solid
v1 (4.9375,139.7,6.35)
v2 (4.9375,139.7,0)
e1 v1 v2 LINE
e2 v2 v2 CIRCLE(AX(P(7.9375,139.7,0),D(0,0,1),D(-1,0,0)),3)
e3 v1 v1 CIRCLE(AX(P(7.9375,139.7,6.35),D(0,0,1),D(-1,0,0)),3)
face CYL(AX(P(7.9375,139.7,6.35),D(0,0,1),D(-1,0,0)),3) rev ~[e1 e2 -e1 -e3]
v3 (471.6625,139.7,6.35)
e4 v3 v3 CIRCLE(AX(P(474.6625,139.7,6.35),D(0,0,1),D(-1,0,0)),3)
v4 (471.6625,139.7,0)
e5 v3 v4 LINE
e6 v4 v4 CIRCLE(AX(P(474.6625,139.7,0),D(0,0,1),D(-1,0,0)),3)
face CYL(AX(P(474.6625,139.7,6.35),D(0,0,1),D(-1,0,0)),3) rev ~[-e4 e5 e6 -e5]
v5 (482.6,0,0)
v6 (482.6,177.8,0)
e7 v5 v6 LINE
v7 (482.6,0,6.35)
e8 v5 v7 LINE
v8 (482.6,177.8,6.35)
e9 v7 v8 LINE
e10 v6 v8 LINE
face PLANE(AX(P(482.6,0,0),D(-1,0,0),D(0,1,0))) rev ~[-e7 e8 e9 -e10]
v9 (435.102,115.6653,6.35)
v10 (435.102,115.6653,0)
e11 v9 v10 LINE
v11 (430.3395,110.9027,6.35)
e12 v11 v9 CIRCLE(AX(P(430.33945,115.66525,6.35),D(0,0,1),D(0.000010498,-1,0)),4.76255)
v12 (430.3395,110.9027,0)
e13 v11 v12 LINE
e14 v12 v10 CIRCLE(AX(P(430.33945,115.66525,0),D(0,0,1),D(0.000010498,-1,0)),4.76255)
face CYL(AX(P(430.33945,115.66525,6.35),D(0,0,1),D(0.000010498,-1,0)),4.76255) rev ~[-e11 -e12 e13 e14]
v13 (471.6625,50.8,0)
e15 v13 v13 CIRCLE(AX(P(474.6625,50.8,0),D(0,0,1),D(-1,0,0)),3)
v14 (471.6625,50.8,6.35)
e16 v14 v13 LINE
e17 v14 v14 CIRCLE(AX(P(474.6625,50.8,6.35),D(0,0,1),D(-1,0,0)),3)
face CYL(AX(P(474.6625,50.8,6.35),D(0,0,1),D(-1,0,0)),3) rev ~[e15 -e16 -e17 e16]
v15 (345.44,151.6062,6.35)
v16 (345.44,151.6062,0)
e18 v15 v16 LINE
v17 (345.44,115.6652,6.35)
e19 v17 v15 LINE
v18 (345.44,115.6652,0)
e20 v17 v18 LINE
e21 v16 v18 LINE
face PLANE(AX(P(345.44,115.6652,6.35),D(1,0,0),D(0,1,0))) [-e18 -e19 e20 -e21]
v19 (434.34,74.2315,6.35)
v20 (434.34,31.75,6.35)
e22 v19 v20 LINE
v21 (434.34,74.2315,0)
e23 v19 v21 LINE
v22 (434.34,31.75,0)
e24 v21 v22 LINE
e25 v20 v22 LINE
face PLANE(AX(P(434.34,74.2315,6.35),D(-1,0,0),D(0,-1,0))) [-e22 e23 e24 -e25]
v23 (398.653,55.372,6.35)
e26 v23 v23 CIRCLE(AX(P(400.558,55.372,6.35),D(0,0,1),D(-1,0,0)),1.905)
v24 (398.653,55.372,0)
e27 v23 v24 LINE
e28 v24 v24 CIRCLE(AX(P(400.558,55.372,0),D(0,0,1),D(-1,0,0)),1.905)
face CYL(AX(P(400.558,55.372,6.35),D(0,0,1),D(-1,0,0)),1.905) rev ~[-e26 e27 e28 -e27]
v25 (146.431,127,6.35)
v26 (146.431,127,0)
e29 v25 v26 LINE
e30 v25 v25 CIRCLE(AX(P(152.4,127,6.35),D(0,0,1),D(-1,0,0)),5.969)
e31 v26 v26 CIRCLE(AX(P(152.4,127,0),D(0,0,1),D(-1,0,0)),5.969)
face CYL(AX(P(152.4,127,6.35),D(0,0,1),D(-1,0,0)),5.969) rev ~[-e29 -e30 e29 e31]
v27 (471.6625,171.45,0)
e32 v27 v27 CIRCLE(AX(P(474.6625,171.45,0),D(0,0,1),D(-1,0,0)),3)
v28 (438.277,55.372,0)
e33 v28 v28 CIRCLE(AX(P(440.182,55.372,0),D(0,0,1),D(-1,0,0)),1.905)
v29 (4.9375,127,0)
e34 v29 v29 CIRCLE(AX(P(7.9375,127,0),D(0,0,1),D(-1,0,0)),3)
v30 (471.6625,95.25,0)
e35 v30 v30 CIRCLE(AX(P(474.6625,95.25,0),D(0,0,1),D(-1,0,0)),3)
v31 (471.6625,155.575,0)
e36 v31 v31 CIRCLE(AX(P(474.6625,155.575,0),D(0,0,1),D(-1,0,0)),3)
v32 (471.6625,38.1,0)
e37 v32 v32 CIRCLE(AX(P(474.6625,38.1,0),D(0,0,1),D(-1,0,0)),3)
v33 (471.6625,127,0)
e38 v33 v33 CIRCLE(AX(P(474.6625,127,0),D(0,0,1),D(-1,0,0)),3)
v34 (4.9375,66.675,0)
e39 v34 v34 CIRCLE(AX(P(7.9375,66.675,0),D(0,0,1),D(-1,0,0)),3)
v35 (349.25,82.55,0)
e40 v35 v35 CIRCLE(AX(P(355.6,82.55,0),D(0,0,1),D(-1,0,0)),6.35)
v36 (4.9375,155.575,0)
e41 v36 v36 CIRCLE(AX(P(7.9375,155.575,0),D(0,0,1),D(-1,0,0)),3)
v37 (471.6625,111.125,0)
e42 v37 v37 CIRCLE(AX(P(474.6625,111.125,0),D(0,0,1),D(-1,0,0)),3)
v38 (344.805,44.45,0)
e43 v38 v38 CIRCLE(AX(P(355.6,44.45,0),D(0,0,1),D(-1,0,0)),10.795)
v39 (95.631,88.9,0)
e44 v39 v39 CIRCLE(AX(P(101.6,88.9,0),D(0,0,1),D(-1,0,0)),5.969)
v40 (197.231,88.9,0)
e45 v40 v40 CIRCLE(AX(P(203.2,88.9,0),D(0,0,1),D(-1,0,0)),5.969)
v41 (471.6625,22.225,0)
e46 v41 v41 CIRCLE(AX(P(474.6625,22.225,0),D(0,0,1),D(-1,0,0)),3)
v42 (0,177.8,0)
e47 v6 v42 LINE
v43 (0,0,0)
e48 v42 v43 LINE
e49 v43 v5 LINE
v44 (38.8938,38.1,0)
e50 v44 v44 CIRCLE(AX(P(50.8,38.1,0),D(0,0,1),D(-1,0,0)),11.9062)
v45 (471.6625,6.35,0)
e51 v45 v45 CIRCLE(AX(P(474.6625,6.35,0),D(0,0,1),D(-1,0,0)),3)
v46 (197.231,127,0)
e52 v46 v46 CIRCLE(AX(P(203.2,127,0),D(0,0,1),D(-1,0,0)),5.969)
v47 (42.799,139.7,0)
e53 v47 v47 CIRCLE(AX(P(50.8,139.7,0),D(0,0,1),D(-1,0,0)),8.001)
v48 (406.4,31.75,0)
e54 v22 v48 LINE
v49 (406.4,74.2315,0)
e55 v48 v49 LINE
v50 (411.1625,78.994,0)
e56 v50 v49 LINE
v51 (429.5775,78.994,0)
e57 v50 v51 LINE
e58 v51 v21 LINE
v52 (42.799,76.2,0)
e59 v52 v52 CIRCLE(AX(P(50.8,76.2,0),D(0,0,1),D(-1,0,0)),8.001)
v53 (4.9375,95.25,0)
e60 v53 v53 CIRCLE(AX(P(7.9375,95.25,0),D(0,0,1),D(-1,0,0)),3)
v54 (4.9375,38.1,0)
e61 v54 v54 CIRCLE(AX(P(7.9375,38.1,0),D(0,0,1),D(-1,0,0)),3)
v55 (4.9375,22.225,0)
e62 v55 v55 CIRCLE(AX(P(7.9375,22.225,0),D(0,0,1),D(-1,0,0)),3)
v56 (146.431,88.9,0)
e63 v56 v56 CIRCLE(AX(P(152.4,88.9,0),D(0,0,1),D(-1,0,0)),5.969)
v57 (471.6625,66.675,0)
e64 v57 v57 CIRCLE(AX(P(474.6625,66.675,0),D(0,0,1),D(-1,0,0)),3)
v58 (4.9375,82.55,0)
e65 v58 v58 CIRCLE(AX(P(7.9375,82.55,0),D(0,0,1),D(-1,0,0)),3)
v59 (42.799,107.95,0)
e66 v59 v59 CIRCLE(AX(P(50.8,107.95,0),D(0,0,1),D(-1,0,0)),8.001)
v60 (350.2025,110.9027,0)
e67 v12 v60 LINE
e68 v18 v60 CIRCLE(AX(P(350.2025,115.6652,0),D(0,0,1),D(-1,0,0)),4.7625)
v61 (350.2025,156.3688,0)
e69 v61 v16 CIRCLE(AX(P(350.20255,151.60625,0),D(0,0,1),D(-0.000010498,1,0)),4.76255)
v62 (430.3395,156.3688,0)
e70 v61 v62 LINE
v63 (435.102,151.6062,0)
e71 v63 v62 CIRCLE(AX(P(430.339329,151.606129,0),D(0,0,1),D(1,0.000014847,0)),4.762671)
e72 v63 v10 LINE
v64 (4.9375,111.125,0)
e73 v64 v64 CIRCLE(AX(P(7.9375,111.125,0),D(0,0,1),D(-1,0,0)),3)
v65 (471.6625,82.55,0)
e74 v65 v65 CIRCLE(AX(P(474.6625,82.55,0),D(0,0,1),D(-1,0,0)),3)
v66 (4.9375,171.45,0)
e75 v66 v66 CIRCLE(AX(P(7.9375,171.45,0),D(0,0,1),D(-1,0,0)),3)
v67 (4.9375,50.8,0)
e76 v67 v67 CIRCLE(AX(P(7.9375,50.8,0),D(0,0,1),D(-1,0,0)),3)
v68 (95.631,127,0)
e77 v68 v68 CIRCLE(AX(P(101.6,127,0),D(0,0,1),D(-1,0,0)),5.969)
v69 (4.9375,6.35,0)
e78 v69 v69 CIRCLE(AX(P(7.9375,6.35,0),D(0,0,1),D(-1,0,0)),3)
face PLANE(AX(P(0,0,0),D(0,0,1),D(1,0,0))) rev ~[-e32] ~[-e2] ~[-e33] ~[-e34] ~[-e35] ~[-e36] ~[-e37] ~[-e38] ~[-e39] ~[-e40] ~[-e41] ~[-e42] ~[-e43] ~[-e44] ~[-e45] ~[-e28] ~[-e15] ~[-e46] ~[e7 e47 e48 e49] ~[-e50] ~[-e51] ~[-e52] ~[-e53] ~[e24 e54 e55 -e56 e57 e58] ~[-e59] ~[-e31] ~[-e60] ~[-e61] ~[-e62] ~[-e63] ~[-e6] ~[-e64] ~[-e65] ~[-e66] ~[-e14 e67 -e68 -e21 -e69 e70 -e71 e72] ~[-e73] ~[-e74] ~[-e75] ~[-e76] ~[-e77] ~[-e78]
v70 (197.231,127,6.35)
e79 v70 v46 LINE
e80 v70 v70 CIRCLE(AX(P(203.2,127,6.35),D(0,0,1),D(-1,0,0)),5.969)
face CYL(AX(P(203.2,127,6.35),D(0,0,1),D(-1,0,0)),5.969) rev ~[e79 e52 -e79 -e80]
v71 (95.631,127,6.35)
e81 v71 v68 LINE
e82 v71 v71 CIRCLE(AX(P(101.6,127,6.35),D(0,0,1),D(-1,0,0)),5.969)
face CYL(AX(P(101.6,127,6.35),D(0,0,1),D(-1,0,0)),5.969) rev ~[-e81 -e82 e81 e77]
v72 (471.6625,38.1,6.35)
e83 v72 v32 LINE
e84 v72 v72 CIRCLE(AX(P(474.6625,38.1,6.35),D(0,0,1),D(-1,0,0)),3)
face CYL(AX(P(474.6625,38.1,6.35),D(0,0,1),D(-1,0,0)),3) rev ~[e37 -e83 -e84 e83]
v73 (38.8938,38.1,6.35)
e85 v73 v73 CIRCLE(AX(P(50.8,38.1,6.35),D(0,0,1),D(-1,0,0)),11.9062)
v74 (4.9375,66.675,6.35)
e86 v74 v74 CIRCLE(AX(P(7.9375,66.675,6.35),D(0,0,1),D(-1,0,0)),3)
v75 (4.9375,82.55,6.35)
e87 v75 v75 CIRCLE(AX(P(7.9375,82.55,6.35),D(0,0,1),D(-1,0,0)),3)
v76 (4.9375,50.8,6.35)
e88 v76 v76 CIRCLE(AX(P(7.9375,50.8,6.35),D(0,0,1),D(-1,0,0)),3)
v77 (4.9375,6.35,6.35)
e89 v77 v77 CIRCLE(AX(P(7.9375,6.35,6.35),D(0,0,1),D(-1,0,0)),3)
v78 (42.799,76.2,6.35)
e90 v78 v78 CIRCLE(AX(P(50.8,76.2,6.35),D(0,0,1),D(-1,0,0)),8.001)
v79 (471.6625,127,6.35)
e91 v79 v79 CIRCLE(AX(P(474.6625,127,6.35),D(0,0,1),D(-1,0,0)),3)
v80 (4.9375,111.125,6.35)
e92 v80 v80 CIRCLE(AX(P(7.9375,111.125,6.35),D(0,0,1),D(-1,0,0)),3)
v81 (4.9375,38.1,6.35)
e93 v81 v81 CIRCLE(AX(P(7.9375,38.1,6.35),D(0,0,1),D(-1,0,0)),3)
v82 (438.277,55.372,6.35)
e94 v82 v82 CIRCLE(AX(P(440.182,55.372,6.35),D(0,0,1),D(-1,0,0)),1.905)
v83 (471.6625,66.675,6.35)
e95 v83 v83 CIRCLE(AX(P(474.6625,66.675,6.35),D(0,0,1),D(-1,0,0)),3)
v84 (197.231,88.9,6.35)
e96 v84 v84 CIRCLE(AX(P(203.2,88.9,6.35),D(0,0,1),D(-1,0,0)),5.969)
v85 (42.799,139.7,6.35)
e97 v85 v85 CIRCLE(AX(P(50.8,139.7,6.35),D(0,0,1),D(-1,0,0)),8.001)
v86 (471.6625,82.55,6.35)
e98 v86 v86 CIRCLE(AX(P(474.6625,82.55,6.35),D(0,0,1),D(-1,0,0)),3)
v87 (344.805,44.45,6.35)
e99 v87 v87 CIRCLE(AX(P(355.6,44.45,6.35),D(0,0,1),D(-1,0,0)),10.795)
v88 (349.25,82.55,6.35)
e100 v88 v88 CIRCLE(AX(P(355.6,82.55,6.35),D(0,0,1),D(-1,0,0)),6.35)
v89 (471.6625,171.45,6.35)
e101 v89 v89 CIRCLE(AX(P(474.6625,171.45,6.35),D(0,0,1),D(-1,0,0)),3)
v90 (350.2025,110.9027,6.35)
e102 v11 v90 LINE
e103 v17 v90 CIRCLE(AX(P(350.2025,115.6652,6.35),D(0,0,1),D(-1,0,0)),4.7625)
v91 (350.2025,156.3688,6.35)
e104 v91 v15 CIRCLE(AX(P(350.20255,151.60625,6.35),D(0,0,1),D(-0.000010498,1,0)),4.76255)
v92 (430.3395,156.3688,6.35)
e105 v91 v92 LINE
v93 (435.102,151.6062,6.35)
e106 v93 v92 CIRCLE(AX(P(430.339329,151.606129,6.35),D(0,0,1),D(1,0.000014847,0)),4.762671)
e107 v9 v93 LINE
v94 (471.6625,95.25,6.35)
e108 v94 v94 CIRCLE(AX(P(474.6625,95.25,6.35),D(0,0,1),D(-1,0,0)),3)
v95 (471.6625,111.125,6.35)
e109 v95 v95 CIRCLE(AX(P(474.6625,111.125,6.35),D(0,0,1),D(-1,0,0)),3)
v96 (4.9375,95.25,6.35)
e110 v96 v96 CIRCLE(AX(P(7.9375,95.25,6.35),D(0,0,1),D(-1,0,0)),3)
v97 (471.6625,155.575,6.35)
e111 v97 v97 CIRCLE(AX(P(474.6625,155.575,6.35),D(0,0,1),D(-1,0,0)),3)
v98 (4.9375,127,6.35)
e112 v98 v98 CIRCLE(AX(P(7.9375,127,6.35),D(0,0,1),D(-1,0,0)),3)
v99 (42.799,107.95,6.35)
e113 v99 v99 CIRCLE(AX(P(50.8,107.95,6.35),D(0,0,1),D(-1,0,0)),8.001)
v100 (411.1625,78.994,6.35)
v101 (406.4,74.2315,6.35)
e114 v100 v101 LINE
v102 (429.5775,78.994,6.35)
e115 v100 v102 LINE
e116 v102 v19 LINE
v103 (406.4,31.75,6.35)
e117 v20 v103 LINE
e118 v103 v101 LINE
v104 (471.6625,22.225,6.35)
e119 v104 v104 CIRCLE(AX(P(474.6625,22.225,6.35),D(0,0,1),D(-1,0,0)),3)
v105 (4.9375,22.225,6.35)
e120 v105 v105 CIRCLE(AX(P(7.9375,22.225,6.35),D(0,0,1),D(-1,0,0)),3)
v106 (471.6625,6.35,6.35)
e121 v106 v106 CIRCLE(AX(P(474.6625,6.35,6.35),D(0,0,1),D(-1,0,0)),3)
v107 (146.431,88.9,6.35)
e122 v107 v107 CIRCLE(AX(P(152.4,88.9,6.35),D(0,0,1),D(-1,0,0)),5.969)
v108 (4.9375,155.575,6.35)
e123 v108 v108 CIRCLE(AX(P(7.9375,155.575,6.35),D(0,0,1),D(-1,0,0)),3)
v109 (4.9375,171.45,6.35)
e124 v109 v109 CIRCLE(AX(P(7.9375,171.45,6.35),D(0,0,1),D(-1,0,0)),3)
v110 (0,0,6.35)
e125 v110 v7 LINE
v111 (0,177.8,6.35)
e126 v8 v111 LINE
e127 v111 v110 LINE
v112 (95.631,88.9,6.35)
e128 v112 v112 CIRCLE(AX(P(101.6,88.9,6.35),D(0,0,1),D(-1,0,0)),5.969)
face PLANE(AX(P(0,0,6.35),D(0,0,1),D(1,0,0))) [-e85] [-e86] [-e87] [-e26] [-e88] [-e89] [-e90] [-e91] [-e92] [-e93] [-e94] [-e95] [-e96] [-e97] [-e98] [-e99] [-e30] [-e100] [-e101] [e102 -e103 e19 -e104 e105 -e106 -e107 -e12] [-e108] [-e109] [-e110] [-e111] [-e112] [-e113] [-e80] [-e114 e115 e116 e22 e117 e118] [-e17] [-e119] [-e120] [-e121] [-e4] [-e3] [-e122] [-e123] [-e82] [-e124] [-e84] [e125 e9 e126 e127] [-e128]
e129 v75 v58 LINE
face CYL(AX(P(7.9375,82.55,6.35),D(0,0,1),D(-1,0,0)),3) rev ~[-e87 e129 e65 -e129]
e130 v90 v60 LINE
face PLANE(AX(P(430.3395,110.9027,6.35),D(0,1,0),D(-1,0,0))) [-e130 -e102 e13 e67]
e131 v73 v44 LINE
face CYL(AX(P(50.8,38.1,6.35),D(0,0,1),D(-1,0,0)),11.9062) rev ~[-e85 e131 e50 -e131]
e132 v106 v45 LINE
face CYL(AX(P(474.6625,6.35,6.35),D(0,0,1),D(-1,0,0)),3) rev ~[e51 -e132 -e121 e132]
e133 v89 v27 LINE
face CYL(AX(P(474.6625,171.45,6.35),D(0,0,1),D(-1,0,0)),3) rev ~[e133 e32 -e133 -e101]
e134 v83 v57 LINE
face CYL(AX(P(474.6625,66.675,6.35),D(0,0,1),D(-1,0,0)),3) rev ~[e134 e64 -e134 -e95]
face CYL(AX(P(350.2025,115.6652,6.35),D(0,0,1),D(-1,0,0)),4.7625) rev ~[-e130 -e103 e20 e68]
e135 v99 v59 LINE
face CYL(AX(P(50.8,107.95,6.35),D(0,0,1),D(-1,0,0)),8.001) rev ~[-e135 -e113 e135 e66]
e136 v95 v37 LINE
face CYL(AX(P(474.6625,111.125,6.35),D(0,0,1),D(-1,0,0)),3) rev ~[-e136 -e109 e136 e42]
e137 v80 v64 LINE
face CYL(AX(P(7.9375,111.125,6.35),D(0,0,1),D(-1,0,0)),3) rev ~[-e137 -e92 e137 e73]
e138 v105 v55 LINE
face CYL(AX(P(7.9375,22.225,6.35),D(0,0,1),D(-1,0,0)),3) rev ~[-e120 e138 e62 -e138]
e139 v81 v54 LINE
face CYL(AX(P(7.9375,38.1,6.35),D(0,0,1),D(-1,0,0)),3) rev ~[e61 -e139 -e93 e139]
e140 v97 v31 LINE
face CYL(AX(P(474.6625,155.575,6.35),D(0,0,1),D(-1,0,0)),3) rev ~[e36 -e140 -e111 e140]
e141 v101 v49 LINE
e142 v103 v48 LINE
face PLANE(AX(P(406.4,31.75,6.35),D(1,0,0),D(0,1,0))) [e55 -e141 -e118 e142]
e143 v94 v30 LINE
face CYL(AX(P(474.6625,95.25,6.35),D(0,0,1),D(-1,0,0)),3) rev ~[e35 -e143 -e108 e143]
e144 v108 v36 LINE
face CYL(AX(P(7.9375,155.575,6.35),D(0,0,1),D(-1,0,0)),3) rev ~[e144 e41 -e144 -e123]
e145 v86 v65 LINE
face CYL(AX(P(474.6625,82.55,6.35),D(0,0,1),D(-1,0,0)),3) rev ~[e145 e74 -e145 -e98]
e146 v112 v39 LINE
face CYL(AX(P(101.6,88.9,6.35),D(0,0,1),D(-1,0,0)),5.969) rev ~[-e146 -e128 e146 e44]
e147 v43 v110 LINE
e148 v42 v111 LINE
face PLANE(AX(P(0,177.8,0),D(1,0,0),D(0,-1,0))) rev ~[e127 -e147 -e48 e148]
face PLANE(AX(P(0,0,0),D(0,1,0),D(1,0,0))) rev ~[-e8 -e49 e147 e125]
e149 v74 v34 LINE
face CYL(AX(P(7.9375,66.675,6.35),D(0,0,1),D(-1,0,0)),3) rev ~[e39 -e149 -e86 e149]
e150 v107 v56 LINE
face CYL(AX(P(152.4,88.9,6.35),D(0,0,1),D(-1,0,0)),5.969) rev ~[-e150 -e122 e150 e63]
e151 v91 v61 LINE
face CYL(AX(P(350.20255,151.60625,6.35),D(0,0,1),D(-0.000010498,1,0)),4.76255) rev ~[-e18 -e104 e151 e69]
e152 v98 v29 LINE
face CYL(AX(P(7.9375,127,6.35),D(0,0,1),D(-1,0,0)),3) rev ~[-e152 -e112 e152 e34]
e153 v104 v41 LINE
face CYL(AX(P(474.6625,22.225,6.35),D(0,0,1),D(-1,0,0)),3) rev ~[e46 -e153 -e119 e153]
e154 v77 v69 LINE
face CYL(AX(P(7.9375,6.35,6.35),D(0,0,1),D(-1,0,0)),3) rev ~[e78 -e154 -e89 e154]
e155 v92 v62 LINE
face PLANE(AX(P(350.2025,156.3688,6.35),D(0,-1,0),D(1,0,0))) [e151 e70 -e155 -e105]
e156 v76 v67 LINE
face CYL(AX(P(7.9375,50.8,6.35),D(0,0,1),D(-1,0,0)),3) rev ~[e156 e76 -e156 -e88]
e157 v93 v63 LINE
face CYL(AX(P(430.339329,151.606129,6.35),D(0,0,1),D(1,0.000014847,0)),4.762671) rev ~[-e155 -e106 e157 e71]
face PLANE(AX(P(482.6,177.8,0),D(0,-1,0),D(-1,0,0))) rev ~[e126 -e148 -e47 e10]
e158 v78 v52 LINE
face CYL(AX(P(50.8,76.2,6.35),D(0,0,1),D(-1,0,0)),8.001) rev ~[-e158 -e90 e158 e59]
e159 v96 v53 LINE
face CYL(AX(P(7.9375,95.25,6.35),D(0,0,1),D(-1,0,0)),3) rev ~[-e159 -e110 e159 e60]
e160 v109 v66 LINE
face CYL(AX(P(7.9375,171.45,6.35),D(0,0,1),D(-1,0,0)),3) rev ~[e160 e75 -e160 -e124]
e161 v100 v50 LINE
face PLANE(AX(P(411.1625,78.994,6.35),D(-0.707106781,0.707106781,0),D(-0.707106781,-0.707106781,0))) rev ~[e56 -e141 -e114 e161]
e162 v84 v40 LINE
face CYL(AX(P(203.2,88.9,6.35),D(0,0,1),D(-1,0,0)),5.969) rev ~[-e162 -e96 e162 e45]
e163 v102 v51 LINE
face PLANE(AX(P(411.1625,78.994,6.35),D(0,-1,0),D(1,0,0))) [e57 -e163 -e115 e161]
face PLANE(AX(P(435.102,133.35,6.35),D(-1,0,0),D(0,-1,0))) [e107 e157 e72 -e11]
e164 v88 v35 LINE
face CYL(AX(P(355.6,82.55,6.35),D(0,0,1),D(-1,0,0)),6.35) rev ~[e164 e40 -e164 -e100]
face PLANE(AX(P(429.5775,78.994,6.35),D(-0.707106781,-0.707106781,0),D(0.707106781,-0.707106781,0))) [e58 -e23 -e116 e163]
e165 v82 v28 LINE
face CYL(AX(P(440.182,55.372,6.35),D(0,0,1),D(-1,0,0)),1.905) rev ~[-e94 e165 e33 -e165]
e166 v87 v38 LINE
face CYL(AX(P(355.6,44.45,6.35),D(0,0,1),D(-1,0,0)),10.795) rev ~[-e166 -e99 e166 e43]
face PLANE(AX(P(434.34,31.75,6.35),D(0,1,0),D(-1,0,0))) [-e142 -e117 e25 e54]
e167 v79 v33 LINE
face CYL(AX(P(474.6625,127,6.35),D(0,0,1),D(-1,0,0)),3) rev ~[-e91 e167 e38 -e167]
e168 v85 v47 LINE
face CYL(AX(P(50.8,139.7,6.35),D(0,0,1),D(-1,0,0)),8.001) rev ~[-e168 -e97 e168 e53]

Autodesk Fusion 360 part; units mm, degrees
sketch "Sketch1" plane through (0, 0, 0) normal (0, 0, 1) x (1, 0, 0)
  line L0 (0, 0) -> (482.6, 0)
  line L1 (482.6, 0) -> (482.6, 177.8)
  line L2 (482.6, 177.8) -> (0, 177.8)
  line L3 (0, 177.8) -> (0, 0)
  dimension "d1" = 482.6
  dimension "d2" = 177.8
extrude "Extrude1" add sketch "Sketch1" along normal blind 6.35
sketch "Sketch2" plane through (0, 0, 6.35) normal (0, 0, 1) x (-1, 0, 0)
  line L0 (0, -177.8) -> (0, 0)
  line L1 (0, 0) -> (-482.6, 0)
  line L2 (-482.6, 0) -> (-482.6, -177.8)
  line L3 (-482.6, -177.8) -> (0, -177.8)
  circle A0 centre (-7.9375, -6.35) radius 3
  circle A1 centre (-7.9375, -22.225) radius 3
  circle A2 centre (-7.9375, -38.1) radius 3
  line L4 (-482.6, -88.9) -> (0, -88.9)
  line L5 (-241.3, -177.8) -> (-241.3, 0)
  line L6 (0, -44.45) -> (-482.6, -44.45)
  circle A3 centre (-7.9375, -50.8) radius 3
  circle A4 centre (-7.9375, -66.675) radius 3
  circle A5 centre (-7.9375, -82.55) radius 3
  circle A6 centre (-7.9375, -171.45) radius 3
  circle A7 centre (-7.9375, -155.575) radius 3
  circle A8 centre (-7.9375, -127) radius 3
  circle A9 centre (-7.9375, -111.125) radius 3
  circle A10 centre (-7.9375, -95.25) radius 3
  circle A11 centre (-7.9375, -139.7) radius 3
  circle A12 centre (-474.6625, -171.45) radius 3
  circle A13 centre (-474.6625, -155.575) radius 3
  circle A14 centre (-474.6625, -139.7) radius 3
  circle A15 centre (-474.6625, -127) radius 3
  circle A16 centre (-474.6625, -111.125) radius 3
  circle A17 centre (-474.6625, -95.25) radius 3
  circle A18 centre (-474.6625, -82.55) radius 3
  circle A19 centre (-474.6625, -66.675) radius 3
  circle A20 centre (-474.6625, -50.8) radius 3
  circle A21 centre (-474.6625, -38.1) radius 3
  circle A22 centre (-474.6625, -22.225) radius 3
  circle A23 centre (-474.6625, -6.35) radius 3
  point P0 (-7.3025, -3.751)
  dimension "d5" = 6
  dimension "d6" = 6
  dimension "d7" = 6
  dimension "d8" = 15.875
  dimension "d9" = 15.875
  dimension "d10" = 7.9375
  dimension "d11" = 6.35
  dimension "d12" = 44.45
  dimension "d15" = 31.75
extrude "Extrude2" cut sketch "Sketch2" against normal blind 6.35 contours A0 | A1 | A2 | A3 | A4 | A5 | A6 | A7 | A8 | A9 | A10 | A11 | A12 | A13 | A14 | A15 | A16 | A17 | A18 | A19 | A20 | A21 | A22 | A23
sketch "Sketch3" plane through (0, 0, 6.35) normal (0, 0, 1) x (-1, 0, 0)
  circle A0 centre (-474.6625, -38.1) radius 3
  circle A1 centre (-474.6625, -171.45) radius 3
  circle A2 centre (-474.6625, -139.7) radius 3
  circle A3 centre (-7.9375, -38.1) radius 3
  circle A4 centre (-7.9375, -95.25) radius 3
  circle A5 centre (-7.9375, -155.575) radius 3
  circle A6 centre (-7.9375, -139.7) radius 3
  circle A7 centre (-7.9375, -82.55) radius 3
  circle A8 centre (-7.9375, -22.225) radius 3
  circle A9 centre (-474.6625, -127) radius 3
  circle A10 centre (-474.6625, -82.55) radius 3
  circle A11 centre (-474.6625, -22.225) radius 3
  circle A12 centre (-474.6625, -50.8) radius 3
  circle A13 centre (-474.6625, -95.25) radius 3
  circle A14 centre (-474.6625, -155.575) radius 3
  circle A15 centre (-7.9375, -50.8) radius 3
  circle A16 centre (-7.9375, -111.125) radius 3
  circle A17 centre (-7.9375, -171.45) radius 3
  circle A18 centre (-7.9375, -127) radius 3
  circle A19 centre (-7.9375, -66.675) radius 3
  circle A20 centre (-7.9375, -6.35) radius 3
  circle A21 centre (-474.6625, -111.125) radius 3
  circle A22 centre (-474.6625, -66.675) radius 3
  circle A23 centre (-474.6625, -6.35) radius 3
  line L0 (0, -177.8) -> (0, 0)
  line L1 (0, 0) -> (-482.6, 0)
  line L2 (-482.6, 0) -> (-482.6, -177.8)
  line L3 (-482.6, -177.8) -> (0, -177.8)
  circle A24 centre (-50.8, -38.1) radius 11.9062
  dimension "d16" = 23.8125
  dimension "d17" = 38.1
  dimension "d18" = 50.8
extrude "Extrude3" cut sketch "Sketch3" against normal blind 6.35 contours A24
sketch "Sketch5" plane through (0, 0, 6.35) normal (0, 0, 1) x (-1, 0, 0)
  circle A0 centre (-50.8, -38.1) radius 11.9062
  circle A1 centre (-474.6625, -38.1) radius 3
  circle A2 centre (-474.6625, -171.45) radius 3
  circle A3 centre (-474.6625, -139.7) radius 3
  circle A4 centre (-7.9375, -38.1) radius 3
  circle A5 centre (-7.9375, -95.25) radius 3
  circle A6 centre (-7.9375, -155.575) radius 3
  circle A7 centre (-7.9375, -139.7) radius 3
  circle A8 centre (-7.9375, -82.55) radius 3
  circle A9 centre (-7.9375, -22.225) radius 3
  circle A10 centre (-474.6625, -127) radius 3
  circle A11 centre (-474.6625, -82.55) radius 3
  circle A12 centre (-474.6625, -22.225) radius 3
  circle A13 centre (-474.6625, -50.8) radius 3
  circle A14 centre (-474.6625, -95.25) radius 3
  circle A15 centre (-474.6625, -155.575) radius 3
  circle A16 centre (-7.9375, -50.8) radius 3
  circle A17 centre (-7.9375, -111.125) radius 3
  circle A18 centre (-7.9375, -171.45) radius 3
  circle A19 centre (-7.9375, -127) radius 3
  circle A20 centre (-7.9375, -66.675) radius 3
  circle A21 centre (-7.9375, -6.35) radius 3
  circle A22 centre (-474.6625, -111.125) radius 3
  circle A23 centre (-474.6625, -66.675) radius 3
  circle A24 centre (-474.6625, -6.35) radius 3
  line L0 (0, -177.8) -> (0, 0)
  line L1 (0, 0) -> (-482.6, 0)
  line L2 (-482.6, 0) -> (-482.6, -177.8)
  line L3 (-482.6, -177.8) -> (0, -177.8)
  line L4 (-411.1625, -78.994) -> (-429.5775, -78.994)
  line L5 (-434.34, -31.75) -> (-406.4, -31.75)
  line L6 (-406.4, -31.75) -> (-406.4, -74.2315)
  line L7 (-429.5775, -78.994) -> (-434.34, -74.2315)
  circle A25 centre (-440.182, -55.372) radius 1.905
  line L8 (-434.34, -74.2315) -> (-434.34, -31.75)
  line L9 (-411.1625, -78.994) -> (-406.4, -74.2315)
  circle A26 centre (-400.558, -55.372) radius 1.905
  point P0 (-434.34, -78.994)
  point P1 (-406.4, -78.994)
  dimension "d32" = 27.94
  dimension "d33" = 47.244
  dimension "d34" = 3.81
  dimension "d35" = 3.81
  dimension "d36" = 23.622
  dimension "d37" = 23.622
  dimension "d38" = 5.842
  dimension "d39" = 5.842
  dimension "d40" = 4.7625
  dimension "d41" = 4.7625
  dimension "d42" = 4.7625
  dimension "d43" = 4.7625
  dimension "d44" = 406.4
  dimension "d45" = 31.75
extrude "Extrude5" cut sketch "Sketch5" against normal blind 6.35 contours L4 L5 L6 L7 L8 L9 | A25 | A26
sketch "Sketch6" plane through (0, 0, 6.35) normal (0, 0, 1) x (-1, 0, 0)
  line L0 (-406.4, -74.2315) -> (-411.1625, -78.994)
  line L1 (-411.1625, -78.994) -> (-429.5775, -78.994)
  line L2 (-429.5775, -78.994) -> (-434.34, -74.2315)
  line L3 (-434.34, -74.2315) -> (-434.34, -31.75)
  line L4 (-434.34, -31.75) -> (-406.4, -31.75)
  line L5 (-406.4, -31.75) -> (-406.4, -74.2315)
  circle A0 centre (-400.558, -55.372) radius 1.905
  circle A1 centre (-440.182, -55.372) radius 1.905
  circle A2 centre (-50.8, -38.1) radius 11.9062
  circle A3 centre (-474.6625, -38.1) radius 3
  circle A4 centre (-474.6625, -171.45) radius 3
  circle A5 centre (-474.6625, -139.7) radius 3
  circle A6 centre (-7.9375, -38.1) radius 3
  circle A7 centre (-7.9375, -95.25) radius 3
  circle A8 centre (-7.9375, -155.575) radius 3
  circle A9 centre (-7.9375, -139.7) radius 3
  circle A10 centre (-7.9375, -82.55) radius 3
  circle A11 centre (-7.9375, -22.225) radius 3
  circle A12 centre (-474.6625, -127) radius 3
  circle A13 centre (-474.6625, -82.55) radius 3
  circle A14 centre (-474.6625, -22.225) radius 3
  circle A15 centre (-474.6625, -50.8) radius 3
  circle A16 centre (-474.6625, -95.25) radius 3
  circle A17 centre (-474.6625, -155.575) radius 3
  circle A18 centre (-7.9375, -50.8) radius 3
  circle A19 centre (-7.9375, -111.125) radius 3
  circle A20 centre (-7.9375, -171.45) radius 3
  circle A21 centre (-7.9375, -127) radius 3
  circle A22 centre (-7.9375, -66.675) radius 3
  circle A23 centre (-7.9375, -6.35) radius 3
  circle A24 centre (-474.6625, -111.125) radius 3
  circle A25 centre (-474.6625, -66.675) radius 3
  circle A26 centre (-474.6625, -6.35) radius 3
  line L6 (0, -177.8) -> (0, 0)
  line L7 (0, 0) -> (-482.6, 0)
  line L8 (-482.6, 0) -> (-482.6, -177.8)
  line L9 (-482.6, -177.8) -> (0, -177.8)
  circle A27 centre (-355.6, -44.45) radius 10.795
  circle A28 centre (-355.6, -82.55) radius 6.35
  dimension "d48" = 21.59
  dimension "d49" = 355.6
  dimension "d50" = 44.45
  dimension "d64" = 12.7
  dimension "d65" = 38.1
extrude "Extrude6" cut sketch "Sketch6" against normal blind 6.35 contours A27 | A28
sketch "Sketch7" plane through (0, 0, 6.35) normal (0, 0, 1) x (-1, 0, 0)
  circle A0 centre (-355.6, -44.45) radius 10.795
  line L0 (-406.4, -74.2315) -> (-411.1625, -78.994)
  line L1 (-411.1625, -78.994) -> (-429.5775, -78.994)
  line L2 (-429.5775, -78.994) -> (-434.34, -74.2315)
  line L3 (-434.34, -74.2315) -> (-434.34, -31.75)
  line L4 (-434.34, -31.75) -> (-406.4, -31.75)
  line L5 (-406.4, -31.75) -> (-406.4, -74.2315)
  circle A1 centre (-400.558, -55.372) radius 1.905
  circle A2 centre (-440.182, -55.372) radius 1.905
  circle A3 centre (-50.8, -38.1) radius 11.9062
  circle A4 centre (-474.6625, -38.1) radius 3
  circle A5 centre (-474.6625, -171.45) radius 3
  circle A6 centre (-474.6625, -139.7) radius 3
  circle A7 centre (-7.9375, -38.1) radius 3
  circle A8 centre (-7.9375, -95.25) radius 3
  circle A9 centre (-7.9375, -155.575) radius 3
  circle A10 centre (-7.9375, -139.7) radius 3
  circle A11 centre (-7.9375, -82.55) radius 3
  circle A12 centre (-7.9375, -22.225) radius 3
  circle A13 centre (-474.6625, -127) radius 3
  circle A14 centre (-474.6625, -82.55) radius 3
  circle A15 centre (-474.6625, -22.225) radius 3
  circle A16 centre (-474.6625, -50.8) radius 3
  circle A17 centre (-474.6625, -95.25) radius 3
  circle A18 centre (-474.6625, -155.575) radius 3
  circle A19 centre (-7.9375, -50.8) radius 3
  circle A20 centre (-7.9375, -111.125) radius 3
  circle A21 centre (-7.9375, -171.45) radius 3
  circle A22 centre (-7.9375, -127) radius 3
  circle A23 centre (-7.9375, -66.675) radius 3
  circle A24 centre (-7.9375, -6.35) radius 3
  circle A25 centre (-474.6625, -111.125) radius 3
  circle A26 centre (-474.6625, -66.675) radius 3
  circle A27 centre (-474.6625, -6.35) radius 3
  line L6 (0, -177.8) -> (0, 0)
  line L7 (0, 0) -> (-482.6, 0)
  line L8 (-482.6, 0) -> (-482.6, -177.8)
  line L9 (-482.6, -177.8) -> (0, -177.8)
  arc A28 (-345.44, -115.6652) -> (-350.2025, -110.9027) centre (-350.2025, -115.6652) ccw
  arc A29 (-350.2025, -156.3688) -> (-345.44, -151.6062) centre (-350.2025, -151.6062) ccw
  line L10 (-350.2025, -156.3688) -> (-430.3395, -156.3688)
  arc A30 (-435.102, -151.6062) -> (-430.3395, -156.3687) centre (-430.3395, -151.6062) ccw
  line L11 (-430.3395, -110.9027) -> (-350.2025, -110.9027)
  arc A31 (-430.3395, -110.9027) -> (-435.102, -115.6653) centre (-430.3395, -115.6653) ccw
  line L12 (-435.102, -151.6062) -> (-435.102, -115.6653)
  line L13 (-345.44, -115.6652) -> (-345.44, -151.6062)
  line L14 (-435.102, -133.35) -> (-345.44, -133.35)
  circle A32 centre (-355.6, -82.55) radius 6.35
  point P0 (-345.44, -110.9027)
  point P1 (-435.102, -110.9027)
  point P2 (-435.102, -156.3688)
  dimension "d53" = 89.662
  dimension "d54" = 45.466
  dimension "d55" = 23.0187
  dimension "d56" = 4.7625
  dimension "d57" = 4.7625
  dimension "d58" = 4.7625
  dimension "d59" = 4.7625
  dimension "d60" = 345.44
  dimension "d61" = 44.45
extrude "Extrude7" cut sketch "Sketch7" against normal blind 6.35 contours A28 L11 A31 L12 L13 L14 | A29 L10 A30 L12 L13 L14
sketch "Sketch8" plane through (0, 0, 6.35) normal (0, 0, 1) x (-1, 0, 0)
  line L0 (-435.102, -151.6062) -> (-435.102, -115.6653)
  arc A0 (-430.3395, -110.9027) -> (-435.102, -115.6653) centre (-430.3395, -115.6653) ccw
  line L1 (-430.3395, -110.9027) -> (-350.2025, -110.9027)
  arc A1 (-345.44, -115.6652) -> (-350.2025, -110.9028) centre (-350.2025, -115.6652) ccw
  line L2 (-345.44, -115.6652) -> (-345.44, -151.6062)
  arc A2 (-350.2025, -156.3688) -> (-345.44, -151.6062) centre (-350.2025, -151.6063) ccw
  line L3 (-350.2025, -156.3688) -> (-430.3395, -156.3688)
  arc A3 (-435.102, -151.6063) -> (-430.3395, -156.3687) centre (-430.3395, -151.6062) ccw
  circle A4 centre (-355.6, -44.45) radius 10.795
  circle A5 centre (-355.6, -82.55) radius 6.35
  line L4 (-406.4, -74.2315) -> (-411.1625, -78.994)
  line L5 (-411.1625, -78.994) -> (-429.5775, -78.994)
  line L6 (-429.5775, -78.994) -> (-434.34, -74.2315)
  line L7 (-434.34, -74.2315) -> (-434.34, -31.75)
  line L8 (-434.34, -31.75) -> (-406.4, -31.75)
  line L9 (-406.4, -31.75) -> (-406.4, -74.2315)
  circle A6 centre (-400.558, -55.372) radius 1.905
  circle A7 centre (-440.182, -55.372) radius 1.905
  circle A8 centre (-50.8, -38.1) radius 11.9062
  circle A9 centre (-474.6625, -38.1) radius 3
  circle A10 centre (-474.6625, -171.45) radius 3
  circle A11 centre (-474.6625, -139.7) radius 3
  circle A12 centre (-7.9375, -38.1) radius 3
  circle A13 centre (-7.9375, -95.25) radius 3
  circle A14 centre (-7.9375, -155.575) radius 3
  circle A15 centre (-7.9375, -139.7) radius 3
  circle A16 centre (-7.9375, -82.55) radius 3
  circle A17 centre (-7.9375, -22.225) radius 3
  circle A18 centre (-474.6625, -127) radius 3
  circle A19 centre (-474.6625, -82.55) radius 3
  circle A20 centre (-474.6625, -22.225) radius 3
  circle A21 centre (-474.6625, -50.8) radius 3
  circle A22 centre (-474.6625, -95.25) radius 3
  circle A23 centre (-474.6625, -155.575) radius 3
  circle A24 centre (-7.9375, -50.8) radius 3
  circle A25 centre (-7.9375, -111.125) radius 3
  circle A26 centre (-7.9375, -171.45) radius 3
  circle A27 centre (-7.9375, -127) radius 3
  circle A28 centre (-7.9375, -66.675) radius 3
  circle A29 centre (-7.9375, -6.35) radius 3
  circle A30 centre (-474.6625, -111.125) radius 3
  circle A31 centre (-474.6625, -66.675) radius 3
  circle A32 centre (-474.6625, -6.35) radius 3
  line L10 (0, -177.8) -> (0, 0)
  line L11 (0, 0) -> (-482.6, 0)
  line L12 (-482.6, 0) -> (-482.6, -177.8)
  line L13 (-482.6, -177.8) -> (0, -177.8)
  circle A33 centre (-101.6, -88.9) radius 5.969
  circle A34 centre (-152.4, -88.9) radius 5.969
  circle A35 centre (-203.2, -88.9) radius 5.969
  circle A36 centre (-101.6, -127) radius 5.969
  circle A37 centre (-152.4, -127) radius 5.969
  circle A38 centre (-203.2, -127) radius 5.969
  dimension "d73" = 11.938
  dimension "d74" = 88.9
  dimension "d76" = 101.6
  dimension "d80" = -101.6
  dimension "d81" = -38.1
extrude "Extrude8" cut sketch "Sketch8" against normal blind 6.35 contours A33 | A34 | A35 | A36 | A37 | A38
sketch "Sketch9" plane through (0, 0, 6.35) normal (0, 0, 1) x (-1, 0, 0)
  circle A0 centre (-152.4, -127) radius 5.969
  circle A1 centre (-101.6, -127) radius 5.969
  circle A2 centre (-203.2, -127) radius 5.969
  circle A3 centre (-152.4, -88.9) radius 5.969
  circle A4 centre (-101.6, -88.9) radius 5.969
  circle A5 centre (-203.2, -88.9) radius 5.969
  line L0 (-435.102, -151.6062) -> (-435.102, -115.6653)
  arc A6 (-430.3395, -110.9027) -> (-435.102, -115.6653) centre (-430.3395, -115.6653) ccw
  line L1 (-430.3395, -110.9027) -> (-350.2025, -110.9027)
  arc A7 (-345.44, -115.6652) -> (-350.2025, -110.9028) centre (-350.2025, -115.6652) ccw
  line L2 (-345.44, -115.6652) -> (-345.44, -151.6062)
  arc A8 (-350.2025, -156.3688) -> (-345.44, -151.6062) centre (-350.2025, -151.6063) ccw
  line L3 (-350.2025, -156.3688) -> (-430.3395, -156.3688)
  arc A9 (-435.102, -151.6063) -> (-430.3395, -156.3687) centre (-430.3395, -151.6062) ccw
  circle A10 centre (-355.6, -44.45) radius 10.795
  circle A11 centre (-355.6, -82.55) radius 6.35
  line L4 (-406.4, -74.2315) -> (-411.1625, -78.994)
  line L5 (-411.1625, -78.994) -> (-429.5775, -78.994)
  line L6 (-429.5775, -78.994) -> (-434.34, -74.2315)
  line L7 (-434.34, -74.2315) -> (-434.34, -31.75)
  line L8 (-434.34, -31.75) -> (-406.4, -31.75)
  line L9 (-406.4, -31.75) -> (-406.4, -74.2315)
  circle A12 centre (-400.558, -55.372) radius 1.905
  circle A13 centre (-440.182, -55.372) radius 1.905
  circle A14 centre (-50.8, -38.1) radius 11.9062
  circle A15 centre (-474.6625, -38.1) radius 3
  circle A16 centre (-474.6625, -171.45) radius 3
  circle A17 centre (-474.6625, -139.7) radius 3
  circle A18 centre (-7.9375, -38.1) radius 3
  circle A19 centre (-7.9375, -95.25) radius 3
  circle A20 centre (-7.9375, -155.575) radius 3
  circle A21 centre (-7.9375, -139.7) radius 3
  circle A22 centre (-7.9375, -82.55) radius 3
  circle A23 centre (-7.9375, -22.225) radius 3
  circle A24 centre (-474.6625, -127) radius 3
  circle A25 centre (-474.6625, -82.55) radius 3
  circle A26 centre (-474.6625, -22.225) radius 3
  circle A27 centre (-474.6625, -50.8) radius 3
  circle A28 centre (-474.6625, -95.25) radius 3
  circle A29 centre (-474.6625, -155.575) radius 3
  circle A30 centre (-7.9375, -50.8) radius 3
  circle A31 centre (-7.9375, -111.125) radius 3
  circle A32 centre (-7.9375, -171.45) radius 3
  circle A33 centre (-7.9375, -127) radius 3
  circle A34 centre (-7.9375, -66.675) radius 3
  circle A35 centre (-7.9375, -6.35) radius 3
  circle A36 centre (-474.6625, -111.125) radius 3
  circle A37 centre (-474.6625, -66.675) radius 3
  circle A38 centre (-474.6625, -6.35) radius 3
  line L10 (0, -177.8) -> (0, 0)
  line L11 (0, 0) -> (-482.6, 0)
  line L12 (-482.6, 0) -> (-482.6, -177.8)
  line L13 (-482.6, -177.8) -> (0, -177.8)
  circle A39 centre (-50.8, -139.7) radius 8.001
  circle A40 centre (-50.8, -107.95) radius 8.001
  circle A41 centre (-50.8, -76.2) radius 8.001
  dimension "d84" = 16.002
  dimension "d87" = 0
  dimension "d88" = 63.5
  dimension "d89" = 38.1
  dimension "d90" = 50.8
extrude "Extrude9" cut sketch "Sketch9" against normal blind 6.35 contours A39 | A40 | A41
equation "d10 = ( 0.625 / 2 ) * 1 in"
